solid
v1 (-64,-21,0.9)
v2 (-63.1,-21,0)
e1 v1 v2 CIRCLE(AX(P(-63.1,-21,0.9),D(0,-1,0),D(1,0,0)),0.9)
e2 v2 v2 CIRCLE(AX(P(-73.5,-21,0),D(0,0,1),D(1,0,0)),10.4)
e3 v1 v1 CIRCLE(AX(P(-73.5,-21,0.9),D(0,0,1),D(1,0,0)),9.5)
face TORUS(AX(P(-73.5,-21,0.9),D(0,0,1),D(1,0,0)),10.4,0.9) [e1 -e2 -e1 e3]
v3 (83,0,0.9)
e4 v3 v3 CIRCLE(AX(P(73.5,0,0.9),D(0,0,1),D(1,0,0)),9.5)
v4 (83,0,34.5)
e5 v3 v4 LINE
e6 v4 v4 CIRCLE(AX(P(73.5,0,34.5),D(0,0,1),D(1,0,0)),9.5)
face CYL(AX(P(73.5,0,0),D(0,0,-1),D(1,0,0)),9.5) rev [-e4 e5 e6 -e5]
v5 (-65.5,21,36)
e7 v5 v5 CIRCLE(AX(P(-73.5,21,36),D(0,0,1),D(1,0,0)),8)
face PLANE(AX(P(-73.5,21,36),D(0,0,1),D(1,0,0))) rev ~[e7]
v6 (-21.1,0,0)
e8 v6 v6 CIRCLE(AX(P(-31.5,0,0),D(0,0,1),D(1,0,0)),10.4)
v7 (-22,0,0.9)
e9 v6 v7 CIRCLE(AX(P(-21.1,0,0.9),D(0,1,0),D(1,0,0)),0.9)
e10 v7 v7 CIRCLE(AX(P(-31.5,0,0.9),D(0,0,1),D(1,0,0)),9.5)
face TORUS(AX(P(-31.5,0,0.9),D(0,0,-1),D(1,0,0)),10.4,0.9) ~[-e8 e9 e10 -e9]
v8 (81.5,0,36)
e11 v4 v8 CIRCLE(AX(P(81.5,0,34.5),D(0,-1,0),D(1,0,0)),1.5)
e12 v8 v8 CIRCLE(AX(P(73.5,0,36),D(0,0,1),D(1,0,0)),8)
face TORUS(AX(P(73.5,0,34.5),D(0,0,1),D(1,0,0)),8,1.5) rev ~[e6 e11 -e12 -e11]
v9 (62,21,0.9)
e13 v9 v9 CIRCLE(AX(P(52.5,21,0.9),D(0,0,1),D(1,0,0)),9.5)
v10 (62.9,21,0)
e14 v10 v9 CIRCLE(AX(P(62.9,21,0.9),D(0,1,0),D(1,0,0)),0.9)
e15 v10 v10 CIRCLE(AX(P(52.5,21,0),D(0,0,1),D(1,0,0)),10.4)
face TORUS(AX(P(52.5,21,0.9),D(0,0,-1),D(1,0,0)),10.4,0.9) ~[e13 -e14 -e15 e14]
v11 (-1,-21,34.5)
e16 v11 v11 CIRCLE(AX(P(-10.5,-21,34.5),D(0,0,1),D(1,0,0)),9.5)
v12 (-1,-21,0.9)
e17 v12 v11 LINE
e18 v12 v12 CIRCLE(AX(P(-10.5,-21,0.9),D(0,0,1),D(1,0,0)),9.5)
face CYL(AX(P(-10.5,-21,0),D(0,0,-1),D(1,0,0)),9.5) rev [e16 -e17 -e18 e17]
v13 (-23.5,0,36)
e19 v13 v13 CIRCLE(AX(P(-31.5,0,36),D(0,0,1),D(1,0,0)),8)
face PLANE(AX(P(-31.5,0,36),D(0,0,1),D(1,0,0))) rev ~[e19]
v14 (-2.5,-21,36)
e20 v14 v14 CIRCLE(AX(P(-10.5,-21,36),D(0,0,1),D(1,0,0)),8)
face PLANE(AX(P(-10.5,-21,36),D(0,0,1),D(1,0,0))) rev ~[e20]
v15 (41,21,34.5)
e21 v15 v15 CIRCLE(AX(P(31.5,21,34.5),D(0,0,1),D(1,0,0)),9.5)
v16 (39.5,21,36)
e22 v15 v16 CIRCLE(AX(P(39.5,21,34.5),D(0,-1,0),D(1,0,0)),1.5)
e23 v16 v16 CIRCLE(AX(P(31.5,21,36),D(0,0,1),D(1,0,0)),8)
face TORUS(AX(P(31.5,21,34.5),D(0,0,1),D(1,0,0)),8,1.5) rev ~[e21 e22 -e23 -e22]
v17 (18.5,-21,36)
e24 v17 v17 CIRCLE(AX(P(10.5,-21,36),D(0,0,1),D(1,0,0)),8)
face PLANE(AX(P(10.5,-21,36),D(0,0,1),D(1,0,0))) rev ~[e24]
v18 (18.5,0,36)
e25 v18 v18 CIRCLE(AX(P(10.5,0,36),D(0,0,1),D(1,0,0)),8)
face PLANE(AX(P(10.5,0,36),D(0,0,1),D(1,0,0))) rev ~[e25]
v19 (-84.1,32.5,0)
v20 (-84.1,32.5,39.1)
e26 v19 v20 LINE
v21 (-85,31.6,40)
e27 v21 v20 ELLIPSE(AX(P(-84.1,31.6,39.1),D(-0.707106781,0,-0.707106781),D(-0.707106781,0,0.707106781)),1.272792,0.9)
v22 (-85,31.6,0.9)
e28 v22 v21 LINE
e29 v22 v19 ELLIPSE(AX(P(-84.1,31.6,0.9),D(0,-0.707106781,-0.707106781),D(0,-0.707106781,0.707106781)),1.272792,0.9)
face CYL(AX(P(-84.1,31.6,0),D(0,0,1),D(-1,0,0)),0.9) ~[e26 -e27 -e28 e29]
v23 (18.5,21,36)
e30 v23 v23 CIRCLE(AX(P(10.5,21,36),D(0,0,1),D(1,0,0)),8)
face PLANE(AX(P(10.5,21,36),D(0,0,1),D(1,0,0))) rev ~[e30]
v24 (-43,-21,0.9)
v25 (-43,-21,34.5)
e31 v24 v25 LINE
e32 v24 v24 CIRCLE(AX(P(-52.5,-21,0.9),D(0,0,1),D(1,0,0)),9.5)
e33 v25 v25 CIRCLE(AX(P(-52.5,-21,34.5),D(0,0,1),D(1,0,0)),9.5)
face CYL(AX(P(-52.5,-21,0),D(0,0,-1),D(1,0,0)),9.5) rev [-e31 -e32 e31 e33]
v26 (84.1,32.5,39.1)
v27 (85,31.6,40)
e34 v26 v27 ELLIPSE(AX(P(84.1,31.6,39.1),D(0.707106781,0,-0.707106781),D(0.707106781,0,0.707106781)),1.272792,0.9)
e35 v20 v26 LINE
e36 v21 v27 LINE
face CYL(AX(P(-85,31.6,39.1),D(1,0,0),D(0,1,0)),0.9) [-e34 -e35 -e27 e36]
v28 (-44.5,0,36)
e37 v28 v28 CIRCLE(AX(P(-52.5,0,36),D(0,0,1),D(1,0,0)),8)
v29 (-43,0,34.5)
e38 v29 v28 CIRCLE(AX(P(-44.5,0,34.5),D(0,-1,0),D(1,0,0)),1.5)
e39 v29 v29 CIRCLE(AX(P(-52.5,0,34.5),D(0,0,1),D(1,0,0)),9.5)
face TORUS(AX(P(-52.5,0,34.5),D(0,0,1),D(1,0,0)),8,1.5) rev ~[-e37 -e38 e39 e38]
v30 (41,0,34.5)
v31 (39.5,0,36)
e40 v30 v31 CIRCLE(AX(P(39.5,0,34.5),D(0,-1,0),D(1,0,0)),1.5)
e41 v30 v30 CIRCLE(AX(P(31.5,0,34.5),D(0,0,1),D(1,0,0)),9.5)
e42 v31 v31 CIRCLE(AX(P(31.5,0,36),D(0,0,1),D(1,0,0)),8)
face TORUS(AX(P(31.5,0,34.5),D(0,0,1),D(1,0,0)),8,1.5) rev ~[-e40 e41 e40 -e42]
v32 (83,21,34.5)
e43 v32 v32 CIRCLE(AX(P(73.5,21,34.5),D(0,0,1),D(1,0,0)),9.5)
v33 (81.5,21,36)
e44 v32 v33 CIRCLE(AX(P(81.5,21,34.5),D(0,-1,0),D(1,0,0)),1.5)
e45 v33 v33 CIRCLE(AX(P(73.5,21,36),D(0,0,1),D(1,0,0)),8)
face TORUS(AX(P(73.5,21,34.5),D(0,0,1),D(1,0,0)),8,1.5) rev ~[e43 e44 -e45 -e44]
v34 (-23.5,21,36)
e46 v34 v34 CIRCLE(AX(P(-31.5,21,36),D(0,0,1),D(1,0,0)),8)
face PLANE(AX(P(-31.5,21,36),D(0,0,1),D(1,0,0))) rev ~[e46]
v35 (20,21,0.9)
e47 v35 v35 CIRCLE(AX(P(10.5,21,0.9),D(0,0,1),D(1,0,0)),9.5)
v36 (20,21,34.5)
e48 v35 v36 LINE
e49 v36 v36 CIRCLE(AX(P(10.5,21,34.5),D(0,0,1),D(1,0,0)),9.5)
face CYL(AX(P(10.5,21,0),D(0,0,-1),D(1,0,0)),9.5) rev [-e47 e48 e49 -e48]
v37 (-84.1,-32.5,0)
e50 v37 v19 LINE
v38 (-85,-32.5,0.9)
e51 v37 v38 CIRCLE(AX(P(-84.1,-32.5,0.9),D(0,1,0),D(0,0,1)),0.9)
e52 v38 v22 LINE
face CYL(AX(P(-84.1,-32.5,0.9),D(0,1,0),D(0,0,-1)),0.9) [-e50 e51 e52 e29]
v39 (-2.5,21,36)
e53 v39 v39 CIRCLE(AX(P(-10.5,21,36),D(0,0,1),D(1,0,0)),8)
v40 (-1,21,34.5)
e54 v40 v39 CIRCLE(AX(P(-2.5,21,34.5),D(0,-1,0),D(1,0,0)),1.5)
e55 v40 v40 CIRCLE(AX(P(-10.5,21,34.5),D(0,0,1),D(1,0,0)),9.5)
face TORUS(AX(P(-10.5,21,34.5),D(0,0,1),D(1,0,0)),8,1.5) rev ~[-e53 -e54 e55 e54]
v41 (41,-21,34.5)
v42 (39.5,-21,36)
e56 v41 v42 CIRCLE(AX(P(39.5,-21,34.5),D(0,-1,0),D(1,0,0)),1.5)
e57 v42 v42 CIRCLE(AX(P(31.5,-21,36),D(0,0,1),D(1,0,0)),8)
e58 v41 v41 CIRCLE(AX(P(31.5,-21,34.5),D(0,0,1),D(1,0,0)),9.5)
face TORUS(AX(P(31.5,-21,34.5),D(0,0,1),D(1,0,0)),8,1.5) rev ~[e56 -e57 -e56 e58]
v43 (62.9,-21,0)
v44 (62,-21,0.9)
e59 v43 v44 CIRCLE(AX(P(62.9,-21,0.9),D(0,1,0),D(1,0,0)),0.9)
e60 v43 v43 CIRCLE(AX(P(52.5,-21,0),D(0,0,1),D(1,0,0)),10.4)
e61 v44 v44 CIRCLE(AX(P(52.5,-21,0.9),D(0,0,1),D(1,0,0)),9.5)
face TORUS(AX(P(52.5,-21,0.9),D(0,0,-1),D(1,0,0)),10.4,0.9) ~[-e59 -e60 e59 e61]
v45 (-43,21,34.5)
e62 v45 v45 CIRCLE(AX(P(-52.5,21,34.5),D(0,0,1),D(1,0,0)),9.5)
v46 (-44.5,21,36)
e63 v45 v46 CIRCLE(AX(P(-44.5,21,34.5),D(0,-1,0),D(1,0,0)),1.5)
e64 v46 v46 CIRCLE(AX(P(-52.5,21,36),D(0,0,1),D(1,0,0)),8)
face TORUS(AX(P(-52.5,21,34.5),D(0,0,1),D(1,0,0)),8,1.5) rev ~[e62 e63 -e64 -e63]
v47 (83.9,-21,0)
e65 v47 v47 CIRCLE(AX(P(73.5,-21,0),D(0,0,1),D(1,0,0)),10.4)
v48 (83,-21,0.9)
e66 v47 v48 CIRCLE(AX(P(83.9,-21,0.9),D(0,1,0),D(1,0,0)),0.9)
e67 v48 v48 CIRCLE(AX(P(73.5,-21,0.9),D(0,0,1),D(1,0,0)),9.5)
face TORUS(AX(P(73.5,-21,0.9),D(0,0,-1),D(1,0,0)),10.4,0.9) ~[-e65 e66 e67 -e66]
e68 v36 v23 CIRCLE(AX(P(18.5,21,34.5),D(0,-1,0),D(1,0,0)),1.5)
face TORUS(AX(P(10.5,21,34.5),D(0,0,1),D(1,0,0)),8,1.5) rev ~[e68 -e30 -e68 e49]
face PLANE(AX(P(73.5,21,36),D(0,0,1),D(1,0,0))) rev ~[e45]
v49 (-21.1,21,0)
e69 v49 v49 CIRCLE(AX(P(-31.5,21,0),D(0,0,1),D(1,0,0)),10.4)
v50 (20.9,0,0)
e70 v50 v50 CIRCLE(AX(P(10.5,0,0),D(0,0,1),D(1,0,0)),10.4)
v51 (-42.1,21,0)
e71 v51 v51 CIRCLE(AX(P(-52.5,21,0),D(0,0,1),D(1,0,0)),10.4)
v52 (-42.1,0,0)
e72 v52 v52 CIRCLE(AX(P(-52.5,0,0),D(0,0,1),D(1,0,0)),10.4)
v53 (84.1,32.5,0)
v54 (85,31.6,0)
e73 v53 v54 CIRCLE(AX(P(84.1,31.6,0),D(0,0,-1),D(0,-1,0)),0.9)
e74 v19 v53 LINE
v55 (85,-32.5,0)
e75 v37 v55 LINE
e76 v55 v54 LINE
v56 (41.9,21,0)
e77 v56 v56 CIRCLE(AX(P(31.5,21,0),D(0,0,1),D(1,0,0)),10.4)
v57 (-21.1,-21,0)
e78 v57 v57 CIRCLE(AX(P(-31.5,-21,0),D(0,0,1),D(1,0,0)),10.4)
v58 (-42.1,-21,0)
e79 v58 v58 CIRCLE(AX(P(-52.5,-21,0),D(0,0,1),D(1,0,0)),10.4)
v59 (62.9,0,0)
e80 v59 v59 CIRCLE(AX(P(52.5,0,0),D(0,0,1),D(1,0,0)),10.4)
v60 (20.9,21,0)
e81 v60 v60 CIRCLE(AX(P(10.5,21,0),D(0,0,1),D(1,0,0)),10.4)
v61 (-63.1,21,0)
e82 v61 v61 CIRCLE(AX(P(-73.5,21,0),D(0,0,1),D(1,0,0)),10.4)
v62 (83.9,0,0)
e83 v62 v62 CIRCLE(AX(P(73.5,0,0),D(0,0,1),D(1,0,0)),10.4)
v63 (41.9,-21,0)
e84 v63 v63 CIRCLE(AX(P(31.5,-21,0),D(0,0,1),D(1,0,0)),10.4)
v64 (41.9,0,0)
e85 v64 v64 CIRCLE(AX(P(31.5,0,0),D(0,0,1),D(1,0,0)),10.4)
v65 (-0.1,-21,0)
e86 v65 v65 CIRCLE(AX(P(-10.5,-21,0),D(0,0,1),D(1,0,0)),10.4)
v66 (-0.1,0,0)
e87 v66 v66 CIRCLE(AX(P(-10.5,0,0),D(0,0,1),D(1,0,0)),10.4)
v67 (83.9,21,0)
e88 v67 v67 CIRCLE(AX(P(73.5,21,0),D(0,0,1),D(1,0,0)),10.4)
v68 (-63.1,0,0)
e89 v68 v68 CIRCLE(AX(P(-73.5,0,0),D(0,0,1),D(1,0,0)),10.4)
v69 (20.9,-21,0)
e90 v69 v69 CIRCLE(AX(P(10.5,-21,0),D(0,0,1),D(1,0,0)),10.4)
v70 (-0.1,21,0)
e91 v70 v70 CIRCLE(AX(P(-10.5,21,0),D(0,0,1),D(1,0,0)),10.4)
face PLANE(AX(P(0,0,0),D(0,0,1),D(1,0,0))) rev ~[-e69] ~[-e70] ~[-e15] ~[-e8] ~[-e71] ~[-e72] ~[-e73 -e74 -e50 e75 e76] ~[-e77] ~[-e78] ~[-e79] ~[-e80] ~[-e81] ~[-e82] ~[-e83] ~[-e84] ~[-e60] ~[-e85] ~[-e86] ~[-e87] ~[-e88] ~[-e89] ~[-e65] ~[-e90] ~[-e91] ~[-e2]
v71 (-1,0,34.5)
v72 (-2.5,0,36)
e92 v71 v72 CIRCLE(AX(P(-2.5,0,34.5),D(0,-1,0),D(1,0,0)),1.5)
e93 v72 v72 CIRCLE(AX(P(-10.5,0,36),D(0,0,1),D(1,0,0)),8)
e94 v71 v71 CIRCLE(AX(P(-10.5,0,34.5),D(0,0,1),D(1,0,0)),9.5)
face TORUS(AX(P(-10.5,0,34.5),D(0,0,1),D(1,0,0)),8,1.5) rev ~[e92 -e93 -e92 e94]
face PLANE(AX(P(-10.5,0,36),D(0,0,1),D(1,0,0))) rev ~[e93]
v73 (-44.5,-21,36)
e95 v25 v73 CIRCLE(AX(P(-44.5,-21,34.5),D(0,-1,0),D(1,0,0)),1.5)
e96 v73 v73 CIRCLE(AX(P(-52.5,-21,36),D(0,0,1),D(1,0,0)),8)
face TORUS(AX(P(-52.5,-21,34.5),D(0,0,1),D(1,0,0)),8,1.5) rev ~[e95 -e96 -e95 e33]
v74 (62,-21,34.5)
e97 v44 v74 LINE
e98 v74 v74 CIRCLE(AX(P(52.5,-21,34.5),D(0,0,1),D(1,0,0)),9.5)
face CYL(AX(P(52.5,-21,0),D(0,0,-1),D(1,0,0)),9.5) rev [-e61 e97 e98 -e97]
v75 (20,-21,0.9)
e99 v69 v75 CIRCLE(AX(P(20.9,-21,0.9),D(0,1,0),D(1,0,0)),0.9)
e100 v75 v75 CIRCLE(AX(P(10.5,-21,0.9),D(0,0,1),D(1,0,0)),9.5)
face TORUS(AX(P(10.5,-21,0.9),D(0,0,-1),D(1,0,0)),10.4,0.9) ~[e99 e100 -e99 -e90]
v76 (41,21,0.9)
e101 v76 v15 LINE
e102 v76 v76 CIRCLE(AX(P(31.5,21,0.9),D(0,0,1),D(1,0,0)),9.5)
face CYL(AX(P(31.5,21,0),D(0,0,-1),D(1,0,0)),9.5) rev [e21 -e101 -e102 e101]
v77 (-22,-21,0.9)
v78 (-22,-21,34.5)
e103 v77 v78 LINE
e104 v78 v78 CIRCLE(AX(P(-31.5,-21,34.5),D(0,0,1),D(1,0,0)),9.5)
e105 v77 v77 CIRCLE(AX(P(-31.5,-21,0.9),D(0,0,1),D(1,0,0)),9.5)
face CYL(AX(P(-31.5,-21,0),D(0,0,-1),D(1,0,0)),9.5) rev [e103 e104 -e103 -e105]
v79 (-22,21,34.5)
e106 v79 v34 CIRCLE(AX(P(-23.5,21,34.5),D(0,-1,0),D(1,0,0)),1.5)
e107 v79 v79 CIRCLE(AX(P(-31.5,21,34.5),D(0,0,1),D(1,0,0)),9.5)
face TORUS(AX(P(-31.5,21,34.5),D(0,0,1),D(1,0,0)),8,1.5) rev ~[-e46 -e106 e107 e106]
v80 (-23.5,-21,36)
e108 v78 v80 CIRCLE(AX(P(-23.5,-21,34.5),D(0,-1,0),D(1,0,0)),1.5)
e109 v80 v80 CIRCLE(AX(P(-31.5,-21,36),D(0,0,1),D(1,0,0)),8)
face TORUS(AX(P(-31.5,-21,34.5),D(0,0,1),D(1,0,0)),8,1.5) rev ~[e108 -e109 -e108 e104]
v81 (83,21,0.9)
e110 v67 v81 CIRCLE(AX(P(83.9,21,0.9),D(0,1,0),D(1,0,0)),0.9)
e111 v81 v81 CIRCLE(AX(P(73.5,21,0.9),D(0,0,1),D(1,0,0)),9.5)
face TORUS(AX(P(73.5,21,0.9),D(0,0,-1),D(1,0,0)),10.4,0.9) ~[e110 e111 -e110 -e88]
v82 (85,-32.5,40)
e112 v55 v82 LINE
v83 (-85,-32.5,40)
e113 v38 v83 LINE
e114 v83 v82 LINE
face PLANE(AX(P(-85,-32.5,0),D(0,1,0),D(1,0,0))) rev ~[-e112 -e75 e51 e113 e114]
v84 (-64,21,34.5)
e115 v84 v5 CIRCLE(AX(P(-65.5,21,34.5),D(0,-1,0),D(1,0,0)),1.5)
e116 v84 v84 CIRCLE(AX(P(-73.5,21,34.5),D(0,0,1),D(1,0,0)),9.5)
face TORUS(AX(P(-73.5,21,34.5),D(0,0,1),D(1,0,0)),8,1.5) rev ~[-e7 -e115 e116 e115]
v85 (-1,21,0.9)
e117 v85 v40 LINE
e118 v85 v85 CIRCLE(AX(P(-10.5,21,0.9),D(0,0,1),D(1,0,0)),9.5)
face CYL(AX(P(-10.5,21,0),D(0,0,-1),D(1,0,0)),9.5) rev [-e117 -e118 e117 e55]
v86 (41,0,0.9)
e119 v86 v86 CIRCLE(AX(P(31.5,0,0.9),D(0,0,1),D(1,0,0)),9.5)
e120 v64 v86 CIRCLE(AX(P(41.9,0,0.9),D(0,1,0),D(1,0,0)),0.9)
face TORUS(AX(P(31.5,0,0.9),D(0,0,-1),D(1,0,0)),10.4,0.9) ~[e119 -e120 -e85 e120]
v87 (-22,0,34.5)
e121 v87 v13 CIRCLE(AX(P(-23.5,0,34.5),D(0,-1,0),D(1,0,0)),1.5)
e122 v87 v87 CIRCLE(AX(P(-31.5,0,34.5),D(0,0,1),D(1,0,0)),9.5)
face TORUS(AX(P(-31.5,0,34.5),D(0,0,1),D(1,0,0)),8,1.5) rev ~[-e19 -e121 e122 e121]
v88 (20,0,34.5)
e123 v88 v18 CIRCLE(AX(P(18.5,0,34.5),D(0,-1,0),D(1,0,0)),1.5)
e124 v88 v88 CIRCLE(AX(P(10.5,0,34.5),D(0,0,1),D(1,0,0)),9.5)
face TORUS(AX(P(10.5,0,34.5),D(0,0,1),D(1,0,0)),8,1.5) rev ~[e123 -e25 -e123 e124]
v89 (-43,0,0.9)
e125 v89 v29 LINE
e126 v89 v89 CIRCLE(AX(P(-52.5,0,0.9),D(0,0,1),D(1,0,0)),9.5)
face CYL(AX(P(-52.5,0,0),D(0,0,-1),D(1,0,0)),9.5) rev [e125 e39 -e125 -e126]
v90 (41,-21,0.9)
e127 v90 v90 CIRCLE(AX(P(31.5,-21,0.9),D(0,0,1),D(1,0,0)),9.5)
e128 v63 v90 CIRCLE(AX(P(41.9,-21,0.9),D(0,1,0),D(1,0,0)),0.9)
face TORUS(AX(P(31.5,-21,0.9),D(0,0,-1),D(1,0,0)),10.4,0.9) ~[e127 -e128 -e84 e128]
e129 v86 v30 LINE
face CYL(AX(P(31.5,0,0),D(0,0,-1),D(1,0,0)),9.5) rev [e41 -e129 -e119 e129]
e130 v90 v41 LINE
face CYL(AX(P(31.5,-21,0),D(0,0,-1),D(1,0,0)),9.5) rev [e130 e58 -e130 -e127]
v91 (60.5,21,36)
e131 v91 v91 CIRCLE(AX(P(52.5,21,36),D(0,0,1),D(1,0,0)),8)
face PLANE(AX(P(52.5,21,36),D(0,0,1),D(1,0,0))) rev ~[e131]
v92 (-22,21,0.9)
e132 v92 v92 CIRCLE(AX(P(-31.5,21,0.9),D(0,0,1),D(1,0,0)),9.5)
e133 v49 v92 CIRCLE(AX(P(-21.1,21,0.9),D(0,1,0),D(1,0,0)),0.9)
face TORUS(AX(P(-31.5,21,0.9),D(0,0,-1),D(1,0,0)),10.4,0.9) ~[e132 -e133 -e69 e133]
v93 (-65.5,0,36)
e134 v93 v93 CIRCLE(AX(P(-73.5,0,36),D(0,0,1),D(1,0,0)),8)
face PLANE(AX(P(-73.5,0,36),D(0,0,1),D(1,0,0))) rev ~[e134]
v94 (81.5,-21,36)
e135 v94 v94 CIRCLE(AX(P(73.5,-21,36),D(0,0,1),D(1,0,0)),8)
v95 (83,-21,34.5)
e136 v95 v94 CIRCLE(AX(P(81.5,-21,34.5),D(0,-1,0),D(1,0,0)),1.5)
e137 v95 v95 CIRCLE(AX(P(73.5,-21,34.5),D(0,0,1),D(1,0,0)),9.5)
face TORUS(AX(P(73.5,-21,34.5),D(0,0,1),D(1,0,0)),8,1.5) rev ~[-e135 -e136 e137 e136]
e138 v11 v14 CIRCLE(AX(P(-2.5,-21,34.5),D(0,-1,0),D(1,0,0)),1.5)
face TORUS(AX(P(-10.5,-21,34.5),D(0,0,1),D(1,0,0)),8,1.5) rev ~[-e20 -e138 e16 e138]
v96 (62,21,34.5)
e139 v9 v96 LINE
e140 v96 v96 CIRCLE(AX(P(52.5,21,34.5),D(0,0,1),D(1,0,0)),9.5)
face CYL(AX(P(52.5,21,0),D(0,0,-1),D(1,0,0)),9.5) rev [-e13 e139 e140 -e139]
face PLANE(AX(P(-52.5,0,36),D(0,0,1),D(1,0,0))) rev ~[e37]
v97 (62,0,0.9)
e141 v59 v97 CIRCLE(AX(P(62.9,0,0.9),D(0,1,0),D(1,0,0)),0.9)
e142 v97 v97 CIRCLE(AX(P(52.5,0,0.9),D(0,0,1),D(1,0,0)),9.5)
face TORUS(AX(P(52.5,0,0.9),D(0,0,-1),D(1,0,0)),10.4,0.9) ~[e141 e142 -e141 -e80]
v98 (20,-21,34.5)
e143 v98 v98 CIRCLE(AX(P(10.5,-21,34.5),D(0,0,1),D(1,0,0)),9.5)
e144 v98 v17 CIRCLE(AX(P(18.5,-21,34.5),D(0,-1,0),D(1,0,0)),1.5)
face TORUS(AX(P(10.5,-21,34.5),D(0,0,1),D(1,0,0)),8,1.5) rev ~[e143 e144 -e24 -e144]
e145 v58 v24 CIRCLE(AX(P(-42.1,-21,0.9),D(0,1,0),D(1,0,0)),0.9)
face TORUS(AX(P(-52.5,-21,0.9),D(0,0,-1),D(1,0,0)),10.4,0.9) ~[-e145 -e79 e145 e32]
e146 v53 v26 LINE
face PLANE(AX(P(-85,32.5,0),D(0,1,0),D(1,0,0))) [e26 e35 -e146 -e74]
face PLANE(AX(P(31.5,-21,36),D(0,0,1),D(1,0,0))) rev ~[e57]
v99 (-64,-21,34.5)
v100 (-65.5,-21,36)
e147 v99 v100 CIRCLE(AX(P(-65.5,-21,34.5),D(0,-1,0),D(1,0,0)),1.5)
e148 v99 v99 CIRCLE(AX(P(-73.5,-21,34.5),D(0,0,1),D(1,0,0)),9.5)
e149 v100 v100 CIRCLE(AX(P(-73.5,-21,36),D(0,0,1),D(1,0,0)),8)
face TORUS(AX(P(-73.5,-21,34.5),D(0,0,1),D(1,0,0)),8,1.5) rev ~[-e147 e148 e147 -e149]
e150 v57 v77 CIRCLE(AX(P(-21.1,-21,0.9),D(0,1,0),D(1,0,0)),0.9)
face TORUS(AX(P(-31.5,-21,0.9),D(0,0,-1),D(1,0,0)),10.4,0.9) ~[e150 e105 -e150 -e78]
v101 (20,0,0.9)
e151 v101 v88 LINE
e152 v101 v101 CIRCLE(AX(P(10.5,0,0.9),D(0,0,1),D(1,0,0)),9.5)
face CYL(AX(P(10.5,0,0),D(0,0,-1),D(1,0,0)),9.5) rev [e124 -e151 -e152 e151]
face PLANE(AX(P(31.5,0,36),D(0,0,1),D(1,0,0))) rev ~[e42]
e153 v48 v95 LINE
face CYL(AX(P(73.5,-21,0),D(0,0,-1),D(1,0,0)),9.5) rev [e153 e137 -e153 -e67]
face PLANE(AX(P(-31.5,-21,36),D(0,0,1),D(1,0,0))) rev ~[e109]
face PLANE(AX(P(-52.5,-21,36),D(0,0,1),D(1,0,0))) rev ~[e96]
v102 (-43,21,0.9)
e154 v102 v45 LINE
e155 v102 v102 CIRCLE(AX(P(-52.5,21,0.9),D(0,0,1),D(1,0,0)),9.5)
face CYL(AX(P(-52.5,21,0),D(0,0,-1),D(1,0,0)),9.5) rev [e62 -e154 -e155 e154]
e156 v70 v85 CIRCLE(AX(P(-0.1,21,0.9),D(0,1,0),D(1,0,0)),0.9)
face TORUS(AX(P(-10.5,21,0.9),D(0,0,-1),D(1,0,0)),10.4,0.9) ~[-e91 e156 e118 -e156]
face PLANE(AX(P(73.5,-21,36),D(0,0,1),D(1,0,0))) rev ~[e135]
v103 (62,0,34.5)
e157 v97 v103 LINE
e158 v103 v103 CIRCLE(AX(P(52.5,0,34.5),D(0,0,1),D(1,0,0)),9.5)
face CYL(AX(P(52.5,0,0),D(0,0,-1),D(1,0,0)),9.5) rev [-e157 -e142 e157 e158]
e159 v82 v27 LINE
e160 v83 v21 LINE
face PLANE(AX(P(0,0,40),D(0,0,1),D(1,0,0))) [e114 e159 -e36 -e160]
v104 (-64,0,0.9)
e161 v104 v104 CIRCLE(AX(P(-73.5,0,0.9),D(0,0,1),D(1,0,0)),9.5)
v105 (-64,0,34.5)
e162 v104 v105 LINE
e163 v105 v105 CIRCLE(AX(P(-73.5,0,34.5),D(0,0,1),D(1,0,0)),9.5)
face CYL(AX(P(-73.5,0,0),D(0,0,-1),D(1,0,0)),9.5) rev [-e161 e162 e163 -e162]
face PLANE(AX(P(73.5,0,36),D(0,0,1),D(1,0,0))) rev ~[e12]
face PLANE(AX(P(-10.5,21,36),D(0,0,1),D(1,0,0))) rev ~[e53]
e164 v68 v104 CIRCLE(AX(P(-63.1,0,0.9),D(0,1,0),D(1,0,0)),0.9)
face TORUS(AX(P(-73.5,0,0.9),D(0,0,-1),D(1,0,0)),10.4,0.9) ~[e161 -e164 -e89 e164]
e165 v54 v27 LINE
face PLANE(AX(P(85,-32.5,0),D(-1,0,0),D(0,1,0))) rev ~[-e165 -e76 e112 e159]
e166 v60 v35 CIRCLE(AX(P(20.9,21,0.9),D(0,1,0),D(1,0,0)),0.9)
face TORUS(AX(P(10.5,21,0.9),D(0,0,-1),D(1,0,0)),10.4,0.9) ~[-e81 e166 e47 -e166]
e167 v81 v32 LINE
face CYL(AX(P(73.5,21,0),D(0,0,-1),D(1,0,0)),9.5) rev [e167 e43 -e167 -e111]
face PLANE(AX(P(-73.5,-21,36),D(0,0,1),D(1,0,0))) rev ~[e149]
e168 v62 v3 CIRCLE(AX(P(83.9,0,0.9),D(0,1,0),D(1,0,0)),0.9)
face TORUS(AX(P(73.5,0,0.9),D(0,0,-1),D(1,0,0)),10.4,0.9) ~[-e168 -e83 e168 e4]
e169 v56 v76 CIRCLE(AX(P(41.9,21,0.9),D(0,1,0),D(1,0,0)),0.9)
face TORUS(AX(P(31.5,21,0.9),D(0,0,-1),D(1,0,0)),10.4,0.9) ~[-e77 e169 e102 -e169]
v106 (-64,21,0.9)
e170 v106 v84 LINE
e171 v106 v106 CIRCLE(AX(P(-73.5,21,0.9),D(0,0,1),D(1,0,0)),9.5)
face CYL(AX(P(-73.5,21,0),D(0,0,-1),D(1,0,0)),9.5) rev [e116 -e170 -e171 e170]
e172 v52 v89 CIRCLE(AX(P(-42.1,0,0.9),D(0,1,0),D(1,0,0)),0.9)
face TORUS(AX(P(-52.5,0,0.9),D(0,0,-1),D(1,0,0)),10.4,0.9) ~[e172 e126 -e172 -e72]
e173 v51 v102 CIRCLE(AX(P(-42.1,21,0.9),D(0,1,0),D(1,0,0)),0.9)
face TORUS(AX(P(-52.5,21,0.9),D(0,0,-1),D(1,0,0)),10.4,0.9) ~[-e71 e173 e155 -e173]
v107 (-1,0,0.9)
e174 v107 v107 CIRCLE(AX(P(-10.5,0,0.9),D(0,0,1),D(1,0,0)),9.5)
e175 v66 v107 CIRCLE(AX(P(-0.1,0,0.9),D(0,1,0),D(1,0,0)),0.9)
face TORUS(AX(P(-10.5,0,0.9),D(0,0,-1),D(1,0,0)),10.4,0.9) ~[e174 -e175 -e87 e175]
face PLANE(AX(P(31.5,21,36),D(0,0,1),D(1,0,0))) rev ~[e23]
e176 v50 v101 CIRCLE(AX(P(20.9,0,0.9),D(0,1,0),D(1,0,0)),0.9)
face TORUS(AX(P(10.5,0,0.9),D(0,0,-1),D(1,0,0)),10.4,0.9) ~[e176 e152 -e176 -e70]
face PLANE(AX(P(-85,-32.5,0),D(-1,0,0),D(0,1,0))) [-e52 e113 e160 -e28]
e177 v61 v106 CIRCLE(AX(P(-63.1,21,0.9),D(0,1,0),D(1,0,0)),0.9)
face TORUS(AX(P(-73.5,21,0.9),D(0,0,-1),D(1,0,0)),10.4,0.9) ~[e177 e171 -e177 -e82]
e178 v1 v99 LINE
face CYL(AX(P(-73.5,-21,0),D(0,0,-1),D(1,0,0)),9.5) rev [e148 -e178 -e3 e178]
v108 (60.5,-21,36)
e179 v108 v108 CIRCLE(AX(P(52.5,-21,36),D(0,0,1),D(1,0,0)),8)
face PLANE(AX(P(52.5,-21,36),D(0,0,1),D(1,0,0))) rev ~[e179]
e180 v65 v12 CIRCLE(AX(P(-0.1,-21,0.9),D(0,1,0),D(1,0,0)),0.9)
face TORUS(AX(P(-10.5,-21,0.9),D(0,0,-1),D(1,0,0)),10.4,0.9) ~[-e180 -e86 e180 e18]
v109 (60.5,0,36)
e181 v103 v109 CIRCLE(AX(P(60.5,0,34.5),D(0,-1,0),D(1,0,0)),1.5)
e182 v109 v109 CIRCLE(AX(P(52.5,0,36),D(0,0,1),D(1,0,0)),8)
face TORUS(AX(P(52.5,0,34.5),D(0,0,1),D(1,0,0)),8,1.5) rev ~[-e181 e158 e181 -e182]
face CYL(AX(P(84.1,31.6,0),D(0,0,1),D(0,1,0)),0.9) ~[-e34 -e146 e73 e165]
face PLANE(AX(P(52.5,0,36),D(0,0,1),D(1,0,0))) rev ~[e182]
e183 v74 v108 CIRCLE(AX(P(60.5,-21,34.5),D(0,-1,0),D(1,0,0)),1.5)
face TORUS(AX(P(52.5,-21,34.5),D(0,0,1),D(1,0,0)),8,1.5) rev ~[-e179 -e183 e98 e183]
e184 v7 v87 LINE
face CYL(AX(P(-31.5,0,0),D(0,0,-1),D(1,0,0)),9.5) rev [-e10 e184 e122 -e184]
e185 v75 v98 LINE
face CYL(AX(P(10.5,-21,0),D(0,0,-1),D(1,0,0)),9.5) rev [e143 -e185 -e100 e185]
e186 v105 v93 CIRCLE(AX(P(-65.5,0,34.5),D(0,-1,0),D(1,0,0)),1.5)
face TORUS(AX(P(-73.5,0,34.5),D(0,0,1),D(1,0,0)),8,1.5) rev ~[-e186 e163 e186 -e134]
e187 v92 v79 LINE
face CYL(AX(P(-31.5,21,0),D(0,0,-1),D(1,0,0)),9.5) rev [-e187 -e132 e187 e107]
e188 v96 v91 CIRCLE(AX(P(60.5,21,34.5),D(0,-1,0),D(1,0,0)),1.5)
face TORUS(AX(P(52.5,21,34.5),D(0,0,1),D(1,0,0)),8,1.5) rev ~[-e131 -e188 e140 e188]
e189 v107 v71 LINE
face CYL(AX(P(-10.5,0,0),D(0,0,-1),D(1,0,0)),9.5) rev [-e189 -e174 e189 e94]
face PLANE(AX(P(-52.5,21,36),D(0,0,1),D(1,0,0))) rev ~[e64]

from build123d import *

# Parameters (mm, degrees)
SKETCH001_W  = 170
SKETCH001_H  = 65
PAD_DEPTH    = 40
SKETCH_R     = 9.5
POCKET_DEPTH = 36
FILLET_R     = 1.5
FILLET001_R  = 0.9


with BuildPart() as part:
    # Sketch001 → Pad (new body)
    with BuildSketch(Plane.XY):
        Rectangle(SKETCH001_W, SKETCH001_H)
    extrude(amount=PAD_DEPTH)

    # Sketch → Pocket (cut)
    with BuildSketch(Plane.XY):
        with Locations((-73.5, 21)):
            Circle(SKETCH_R)
        with Locations((-52.5, 21)):
            Circle(SKETCH_R)
        with Locations((-31.5, 21)):
            Circle(SKETCH_R)
        with Locations((-10.5, 21)):
            Circle(SKETCH_R)
        with Locations((-73.5, 0)):
            Circle(SKETCH_R)
        with Locations((-52.5, 0)):
            Circle(SKETCH_R)
        with Locations((-31.5, 0)):
            Circle(SKETCH_R)
        with Locations((-10.5, 0)):
            Circle(SKETCH_R)
        with Locations((-73.5, -21)):
            Circle(SKETCH_R)
        with Locations((-52.5, -21)):
            Circle(SKETCH_R)
        with Locations((-31.5, -21)):
            Circle(SKETCH_R)
        with Locations((-10.5, -21)):
            Circle(SKETCH_R)
        with Locations((10.5, 21)):
            Circle(SKETCH_R)
        with Locations((31.5, 21)):
            Circle(SKETCH_R)
        with Locations((31.5, 0)):
            Circle(SKETCH_R)
        with Locations((10.5, 0)):
            Circle(SKETCH_R)
        with Locations((10.5, -21)):
            Circle(SKETCH_R)
        with Locations((31.5, -21)):
            Circle(SKETCH_R)
        with Locations((52.5, 21)):
            Circle(SKETCH_R)
        with Locations((73.5, 21)):
            Circle(SKETCH_R)
        with Locations((52.5, 0)):
            Circle(SKETCH_R)
        with Locations((52.5, -21)):
            Circle(SKETCH_R)
        with Locations((73.5, -21)):
            Circle(SKETCH_R)
        with Locations((73.5, 0)):
            Circle(SKETCH_R)
    extrude(amount=POCKET_DEPTH, mode=Mode.SUBTRACT)

    # Fillet
    fillet_edges = [part.edges().sort_by_distance(p)[0] for p in [
        (64, 21, 36),
        (43, -21, 36),
        (64, -21, 36),
        (64, 0, 36),
        (43, 0, 36),
        (43, 21, 36),
        (22, 0, 36),
        (22, 21, 36),
        (1, 0, 36),
        (22, -21, 36),
        (-20, 0, 36),
        (-20, 21, 36),
        (-20, -21, 36),
        (1, -21, 36),
        (1, 21, 36),
        (-41, -21, 36),
        (-41, 0, 36),
        (-41, 21, 36),
        (-62, 21, 36),
        (-83, 21, 36),
        (-62, 0, 36),
        (-83, 0, 36),
        (-62, -21, 36),
        (-83, -21, 36),
    ]]
    fillet(fillet_edges, radius=FILLET_R)

    # Fillet001
    fillet001_edges = [part.edges().sort_by_distance(p)[0] for p in [
        (1, -21, 0),
        (43, -21, 0),
        (22, -21, 0),
        (64, -21, 0),
        (-62, -21, 0),
        (-83, 0, 0),
        (-41, -21, 0),
        (-41, 0, 0),
        (-62, 0, 0),
        (-20, -21, 0),
        (-20, 0, 0),
        (-41, 21, 0),
        (22, 0, 0),
        (1, 0, 0),
        (-62, 21, 0),
        (-20, 21, 0),
        (-83, 21, 0),
        (64, 0, 0),
        (43, 0, 0),
        (1, 21, 0),
        (-85, 32.5, 20),
        (43, 21, 0),
        (64, 21, 0),
        (85, 32.5, 20),
        (0, 32.5, 40),
        (22, 21, 0),
        (-85, 0, 0),
        (-83, -21, 0),
    ]]
    fillet(fillet001_edges, radius=FILLET001_R)


solid = part.part
